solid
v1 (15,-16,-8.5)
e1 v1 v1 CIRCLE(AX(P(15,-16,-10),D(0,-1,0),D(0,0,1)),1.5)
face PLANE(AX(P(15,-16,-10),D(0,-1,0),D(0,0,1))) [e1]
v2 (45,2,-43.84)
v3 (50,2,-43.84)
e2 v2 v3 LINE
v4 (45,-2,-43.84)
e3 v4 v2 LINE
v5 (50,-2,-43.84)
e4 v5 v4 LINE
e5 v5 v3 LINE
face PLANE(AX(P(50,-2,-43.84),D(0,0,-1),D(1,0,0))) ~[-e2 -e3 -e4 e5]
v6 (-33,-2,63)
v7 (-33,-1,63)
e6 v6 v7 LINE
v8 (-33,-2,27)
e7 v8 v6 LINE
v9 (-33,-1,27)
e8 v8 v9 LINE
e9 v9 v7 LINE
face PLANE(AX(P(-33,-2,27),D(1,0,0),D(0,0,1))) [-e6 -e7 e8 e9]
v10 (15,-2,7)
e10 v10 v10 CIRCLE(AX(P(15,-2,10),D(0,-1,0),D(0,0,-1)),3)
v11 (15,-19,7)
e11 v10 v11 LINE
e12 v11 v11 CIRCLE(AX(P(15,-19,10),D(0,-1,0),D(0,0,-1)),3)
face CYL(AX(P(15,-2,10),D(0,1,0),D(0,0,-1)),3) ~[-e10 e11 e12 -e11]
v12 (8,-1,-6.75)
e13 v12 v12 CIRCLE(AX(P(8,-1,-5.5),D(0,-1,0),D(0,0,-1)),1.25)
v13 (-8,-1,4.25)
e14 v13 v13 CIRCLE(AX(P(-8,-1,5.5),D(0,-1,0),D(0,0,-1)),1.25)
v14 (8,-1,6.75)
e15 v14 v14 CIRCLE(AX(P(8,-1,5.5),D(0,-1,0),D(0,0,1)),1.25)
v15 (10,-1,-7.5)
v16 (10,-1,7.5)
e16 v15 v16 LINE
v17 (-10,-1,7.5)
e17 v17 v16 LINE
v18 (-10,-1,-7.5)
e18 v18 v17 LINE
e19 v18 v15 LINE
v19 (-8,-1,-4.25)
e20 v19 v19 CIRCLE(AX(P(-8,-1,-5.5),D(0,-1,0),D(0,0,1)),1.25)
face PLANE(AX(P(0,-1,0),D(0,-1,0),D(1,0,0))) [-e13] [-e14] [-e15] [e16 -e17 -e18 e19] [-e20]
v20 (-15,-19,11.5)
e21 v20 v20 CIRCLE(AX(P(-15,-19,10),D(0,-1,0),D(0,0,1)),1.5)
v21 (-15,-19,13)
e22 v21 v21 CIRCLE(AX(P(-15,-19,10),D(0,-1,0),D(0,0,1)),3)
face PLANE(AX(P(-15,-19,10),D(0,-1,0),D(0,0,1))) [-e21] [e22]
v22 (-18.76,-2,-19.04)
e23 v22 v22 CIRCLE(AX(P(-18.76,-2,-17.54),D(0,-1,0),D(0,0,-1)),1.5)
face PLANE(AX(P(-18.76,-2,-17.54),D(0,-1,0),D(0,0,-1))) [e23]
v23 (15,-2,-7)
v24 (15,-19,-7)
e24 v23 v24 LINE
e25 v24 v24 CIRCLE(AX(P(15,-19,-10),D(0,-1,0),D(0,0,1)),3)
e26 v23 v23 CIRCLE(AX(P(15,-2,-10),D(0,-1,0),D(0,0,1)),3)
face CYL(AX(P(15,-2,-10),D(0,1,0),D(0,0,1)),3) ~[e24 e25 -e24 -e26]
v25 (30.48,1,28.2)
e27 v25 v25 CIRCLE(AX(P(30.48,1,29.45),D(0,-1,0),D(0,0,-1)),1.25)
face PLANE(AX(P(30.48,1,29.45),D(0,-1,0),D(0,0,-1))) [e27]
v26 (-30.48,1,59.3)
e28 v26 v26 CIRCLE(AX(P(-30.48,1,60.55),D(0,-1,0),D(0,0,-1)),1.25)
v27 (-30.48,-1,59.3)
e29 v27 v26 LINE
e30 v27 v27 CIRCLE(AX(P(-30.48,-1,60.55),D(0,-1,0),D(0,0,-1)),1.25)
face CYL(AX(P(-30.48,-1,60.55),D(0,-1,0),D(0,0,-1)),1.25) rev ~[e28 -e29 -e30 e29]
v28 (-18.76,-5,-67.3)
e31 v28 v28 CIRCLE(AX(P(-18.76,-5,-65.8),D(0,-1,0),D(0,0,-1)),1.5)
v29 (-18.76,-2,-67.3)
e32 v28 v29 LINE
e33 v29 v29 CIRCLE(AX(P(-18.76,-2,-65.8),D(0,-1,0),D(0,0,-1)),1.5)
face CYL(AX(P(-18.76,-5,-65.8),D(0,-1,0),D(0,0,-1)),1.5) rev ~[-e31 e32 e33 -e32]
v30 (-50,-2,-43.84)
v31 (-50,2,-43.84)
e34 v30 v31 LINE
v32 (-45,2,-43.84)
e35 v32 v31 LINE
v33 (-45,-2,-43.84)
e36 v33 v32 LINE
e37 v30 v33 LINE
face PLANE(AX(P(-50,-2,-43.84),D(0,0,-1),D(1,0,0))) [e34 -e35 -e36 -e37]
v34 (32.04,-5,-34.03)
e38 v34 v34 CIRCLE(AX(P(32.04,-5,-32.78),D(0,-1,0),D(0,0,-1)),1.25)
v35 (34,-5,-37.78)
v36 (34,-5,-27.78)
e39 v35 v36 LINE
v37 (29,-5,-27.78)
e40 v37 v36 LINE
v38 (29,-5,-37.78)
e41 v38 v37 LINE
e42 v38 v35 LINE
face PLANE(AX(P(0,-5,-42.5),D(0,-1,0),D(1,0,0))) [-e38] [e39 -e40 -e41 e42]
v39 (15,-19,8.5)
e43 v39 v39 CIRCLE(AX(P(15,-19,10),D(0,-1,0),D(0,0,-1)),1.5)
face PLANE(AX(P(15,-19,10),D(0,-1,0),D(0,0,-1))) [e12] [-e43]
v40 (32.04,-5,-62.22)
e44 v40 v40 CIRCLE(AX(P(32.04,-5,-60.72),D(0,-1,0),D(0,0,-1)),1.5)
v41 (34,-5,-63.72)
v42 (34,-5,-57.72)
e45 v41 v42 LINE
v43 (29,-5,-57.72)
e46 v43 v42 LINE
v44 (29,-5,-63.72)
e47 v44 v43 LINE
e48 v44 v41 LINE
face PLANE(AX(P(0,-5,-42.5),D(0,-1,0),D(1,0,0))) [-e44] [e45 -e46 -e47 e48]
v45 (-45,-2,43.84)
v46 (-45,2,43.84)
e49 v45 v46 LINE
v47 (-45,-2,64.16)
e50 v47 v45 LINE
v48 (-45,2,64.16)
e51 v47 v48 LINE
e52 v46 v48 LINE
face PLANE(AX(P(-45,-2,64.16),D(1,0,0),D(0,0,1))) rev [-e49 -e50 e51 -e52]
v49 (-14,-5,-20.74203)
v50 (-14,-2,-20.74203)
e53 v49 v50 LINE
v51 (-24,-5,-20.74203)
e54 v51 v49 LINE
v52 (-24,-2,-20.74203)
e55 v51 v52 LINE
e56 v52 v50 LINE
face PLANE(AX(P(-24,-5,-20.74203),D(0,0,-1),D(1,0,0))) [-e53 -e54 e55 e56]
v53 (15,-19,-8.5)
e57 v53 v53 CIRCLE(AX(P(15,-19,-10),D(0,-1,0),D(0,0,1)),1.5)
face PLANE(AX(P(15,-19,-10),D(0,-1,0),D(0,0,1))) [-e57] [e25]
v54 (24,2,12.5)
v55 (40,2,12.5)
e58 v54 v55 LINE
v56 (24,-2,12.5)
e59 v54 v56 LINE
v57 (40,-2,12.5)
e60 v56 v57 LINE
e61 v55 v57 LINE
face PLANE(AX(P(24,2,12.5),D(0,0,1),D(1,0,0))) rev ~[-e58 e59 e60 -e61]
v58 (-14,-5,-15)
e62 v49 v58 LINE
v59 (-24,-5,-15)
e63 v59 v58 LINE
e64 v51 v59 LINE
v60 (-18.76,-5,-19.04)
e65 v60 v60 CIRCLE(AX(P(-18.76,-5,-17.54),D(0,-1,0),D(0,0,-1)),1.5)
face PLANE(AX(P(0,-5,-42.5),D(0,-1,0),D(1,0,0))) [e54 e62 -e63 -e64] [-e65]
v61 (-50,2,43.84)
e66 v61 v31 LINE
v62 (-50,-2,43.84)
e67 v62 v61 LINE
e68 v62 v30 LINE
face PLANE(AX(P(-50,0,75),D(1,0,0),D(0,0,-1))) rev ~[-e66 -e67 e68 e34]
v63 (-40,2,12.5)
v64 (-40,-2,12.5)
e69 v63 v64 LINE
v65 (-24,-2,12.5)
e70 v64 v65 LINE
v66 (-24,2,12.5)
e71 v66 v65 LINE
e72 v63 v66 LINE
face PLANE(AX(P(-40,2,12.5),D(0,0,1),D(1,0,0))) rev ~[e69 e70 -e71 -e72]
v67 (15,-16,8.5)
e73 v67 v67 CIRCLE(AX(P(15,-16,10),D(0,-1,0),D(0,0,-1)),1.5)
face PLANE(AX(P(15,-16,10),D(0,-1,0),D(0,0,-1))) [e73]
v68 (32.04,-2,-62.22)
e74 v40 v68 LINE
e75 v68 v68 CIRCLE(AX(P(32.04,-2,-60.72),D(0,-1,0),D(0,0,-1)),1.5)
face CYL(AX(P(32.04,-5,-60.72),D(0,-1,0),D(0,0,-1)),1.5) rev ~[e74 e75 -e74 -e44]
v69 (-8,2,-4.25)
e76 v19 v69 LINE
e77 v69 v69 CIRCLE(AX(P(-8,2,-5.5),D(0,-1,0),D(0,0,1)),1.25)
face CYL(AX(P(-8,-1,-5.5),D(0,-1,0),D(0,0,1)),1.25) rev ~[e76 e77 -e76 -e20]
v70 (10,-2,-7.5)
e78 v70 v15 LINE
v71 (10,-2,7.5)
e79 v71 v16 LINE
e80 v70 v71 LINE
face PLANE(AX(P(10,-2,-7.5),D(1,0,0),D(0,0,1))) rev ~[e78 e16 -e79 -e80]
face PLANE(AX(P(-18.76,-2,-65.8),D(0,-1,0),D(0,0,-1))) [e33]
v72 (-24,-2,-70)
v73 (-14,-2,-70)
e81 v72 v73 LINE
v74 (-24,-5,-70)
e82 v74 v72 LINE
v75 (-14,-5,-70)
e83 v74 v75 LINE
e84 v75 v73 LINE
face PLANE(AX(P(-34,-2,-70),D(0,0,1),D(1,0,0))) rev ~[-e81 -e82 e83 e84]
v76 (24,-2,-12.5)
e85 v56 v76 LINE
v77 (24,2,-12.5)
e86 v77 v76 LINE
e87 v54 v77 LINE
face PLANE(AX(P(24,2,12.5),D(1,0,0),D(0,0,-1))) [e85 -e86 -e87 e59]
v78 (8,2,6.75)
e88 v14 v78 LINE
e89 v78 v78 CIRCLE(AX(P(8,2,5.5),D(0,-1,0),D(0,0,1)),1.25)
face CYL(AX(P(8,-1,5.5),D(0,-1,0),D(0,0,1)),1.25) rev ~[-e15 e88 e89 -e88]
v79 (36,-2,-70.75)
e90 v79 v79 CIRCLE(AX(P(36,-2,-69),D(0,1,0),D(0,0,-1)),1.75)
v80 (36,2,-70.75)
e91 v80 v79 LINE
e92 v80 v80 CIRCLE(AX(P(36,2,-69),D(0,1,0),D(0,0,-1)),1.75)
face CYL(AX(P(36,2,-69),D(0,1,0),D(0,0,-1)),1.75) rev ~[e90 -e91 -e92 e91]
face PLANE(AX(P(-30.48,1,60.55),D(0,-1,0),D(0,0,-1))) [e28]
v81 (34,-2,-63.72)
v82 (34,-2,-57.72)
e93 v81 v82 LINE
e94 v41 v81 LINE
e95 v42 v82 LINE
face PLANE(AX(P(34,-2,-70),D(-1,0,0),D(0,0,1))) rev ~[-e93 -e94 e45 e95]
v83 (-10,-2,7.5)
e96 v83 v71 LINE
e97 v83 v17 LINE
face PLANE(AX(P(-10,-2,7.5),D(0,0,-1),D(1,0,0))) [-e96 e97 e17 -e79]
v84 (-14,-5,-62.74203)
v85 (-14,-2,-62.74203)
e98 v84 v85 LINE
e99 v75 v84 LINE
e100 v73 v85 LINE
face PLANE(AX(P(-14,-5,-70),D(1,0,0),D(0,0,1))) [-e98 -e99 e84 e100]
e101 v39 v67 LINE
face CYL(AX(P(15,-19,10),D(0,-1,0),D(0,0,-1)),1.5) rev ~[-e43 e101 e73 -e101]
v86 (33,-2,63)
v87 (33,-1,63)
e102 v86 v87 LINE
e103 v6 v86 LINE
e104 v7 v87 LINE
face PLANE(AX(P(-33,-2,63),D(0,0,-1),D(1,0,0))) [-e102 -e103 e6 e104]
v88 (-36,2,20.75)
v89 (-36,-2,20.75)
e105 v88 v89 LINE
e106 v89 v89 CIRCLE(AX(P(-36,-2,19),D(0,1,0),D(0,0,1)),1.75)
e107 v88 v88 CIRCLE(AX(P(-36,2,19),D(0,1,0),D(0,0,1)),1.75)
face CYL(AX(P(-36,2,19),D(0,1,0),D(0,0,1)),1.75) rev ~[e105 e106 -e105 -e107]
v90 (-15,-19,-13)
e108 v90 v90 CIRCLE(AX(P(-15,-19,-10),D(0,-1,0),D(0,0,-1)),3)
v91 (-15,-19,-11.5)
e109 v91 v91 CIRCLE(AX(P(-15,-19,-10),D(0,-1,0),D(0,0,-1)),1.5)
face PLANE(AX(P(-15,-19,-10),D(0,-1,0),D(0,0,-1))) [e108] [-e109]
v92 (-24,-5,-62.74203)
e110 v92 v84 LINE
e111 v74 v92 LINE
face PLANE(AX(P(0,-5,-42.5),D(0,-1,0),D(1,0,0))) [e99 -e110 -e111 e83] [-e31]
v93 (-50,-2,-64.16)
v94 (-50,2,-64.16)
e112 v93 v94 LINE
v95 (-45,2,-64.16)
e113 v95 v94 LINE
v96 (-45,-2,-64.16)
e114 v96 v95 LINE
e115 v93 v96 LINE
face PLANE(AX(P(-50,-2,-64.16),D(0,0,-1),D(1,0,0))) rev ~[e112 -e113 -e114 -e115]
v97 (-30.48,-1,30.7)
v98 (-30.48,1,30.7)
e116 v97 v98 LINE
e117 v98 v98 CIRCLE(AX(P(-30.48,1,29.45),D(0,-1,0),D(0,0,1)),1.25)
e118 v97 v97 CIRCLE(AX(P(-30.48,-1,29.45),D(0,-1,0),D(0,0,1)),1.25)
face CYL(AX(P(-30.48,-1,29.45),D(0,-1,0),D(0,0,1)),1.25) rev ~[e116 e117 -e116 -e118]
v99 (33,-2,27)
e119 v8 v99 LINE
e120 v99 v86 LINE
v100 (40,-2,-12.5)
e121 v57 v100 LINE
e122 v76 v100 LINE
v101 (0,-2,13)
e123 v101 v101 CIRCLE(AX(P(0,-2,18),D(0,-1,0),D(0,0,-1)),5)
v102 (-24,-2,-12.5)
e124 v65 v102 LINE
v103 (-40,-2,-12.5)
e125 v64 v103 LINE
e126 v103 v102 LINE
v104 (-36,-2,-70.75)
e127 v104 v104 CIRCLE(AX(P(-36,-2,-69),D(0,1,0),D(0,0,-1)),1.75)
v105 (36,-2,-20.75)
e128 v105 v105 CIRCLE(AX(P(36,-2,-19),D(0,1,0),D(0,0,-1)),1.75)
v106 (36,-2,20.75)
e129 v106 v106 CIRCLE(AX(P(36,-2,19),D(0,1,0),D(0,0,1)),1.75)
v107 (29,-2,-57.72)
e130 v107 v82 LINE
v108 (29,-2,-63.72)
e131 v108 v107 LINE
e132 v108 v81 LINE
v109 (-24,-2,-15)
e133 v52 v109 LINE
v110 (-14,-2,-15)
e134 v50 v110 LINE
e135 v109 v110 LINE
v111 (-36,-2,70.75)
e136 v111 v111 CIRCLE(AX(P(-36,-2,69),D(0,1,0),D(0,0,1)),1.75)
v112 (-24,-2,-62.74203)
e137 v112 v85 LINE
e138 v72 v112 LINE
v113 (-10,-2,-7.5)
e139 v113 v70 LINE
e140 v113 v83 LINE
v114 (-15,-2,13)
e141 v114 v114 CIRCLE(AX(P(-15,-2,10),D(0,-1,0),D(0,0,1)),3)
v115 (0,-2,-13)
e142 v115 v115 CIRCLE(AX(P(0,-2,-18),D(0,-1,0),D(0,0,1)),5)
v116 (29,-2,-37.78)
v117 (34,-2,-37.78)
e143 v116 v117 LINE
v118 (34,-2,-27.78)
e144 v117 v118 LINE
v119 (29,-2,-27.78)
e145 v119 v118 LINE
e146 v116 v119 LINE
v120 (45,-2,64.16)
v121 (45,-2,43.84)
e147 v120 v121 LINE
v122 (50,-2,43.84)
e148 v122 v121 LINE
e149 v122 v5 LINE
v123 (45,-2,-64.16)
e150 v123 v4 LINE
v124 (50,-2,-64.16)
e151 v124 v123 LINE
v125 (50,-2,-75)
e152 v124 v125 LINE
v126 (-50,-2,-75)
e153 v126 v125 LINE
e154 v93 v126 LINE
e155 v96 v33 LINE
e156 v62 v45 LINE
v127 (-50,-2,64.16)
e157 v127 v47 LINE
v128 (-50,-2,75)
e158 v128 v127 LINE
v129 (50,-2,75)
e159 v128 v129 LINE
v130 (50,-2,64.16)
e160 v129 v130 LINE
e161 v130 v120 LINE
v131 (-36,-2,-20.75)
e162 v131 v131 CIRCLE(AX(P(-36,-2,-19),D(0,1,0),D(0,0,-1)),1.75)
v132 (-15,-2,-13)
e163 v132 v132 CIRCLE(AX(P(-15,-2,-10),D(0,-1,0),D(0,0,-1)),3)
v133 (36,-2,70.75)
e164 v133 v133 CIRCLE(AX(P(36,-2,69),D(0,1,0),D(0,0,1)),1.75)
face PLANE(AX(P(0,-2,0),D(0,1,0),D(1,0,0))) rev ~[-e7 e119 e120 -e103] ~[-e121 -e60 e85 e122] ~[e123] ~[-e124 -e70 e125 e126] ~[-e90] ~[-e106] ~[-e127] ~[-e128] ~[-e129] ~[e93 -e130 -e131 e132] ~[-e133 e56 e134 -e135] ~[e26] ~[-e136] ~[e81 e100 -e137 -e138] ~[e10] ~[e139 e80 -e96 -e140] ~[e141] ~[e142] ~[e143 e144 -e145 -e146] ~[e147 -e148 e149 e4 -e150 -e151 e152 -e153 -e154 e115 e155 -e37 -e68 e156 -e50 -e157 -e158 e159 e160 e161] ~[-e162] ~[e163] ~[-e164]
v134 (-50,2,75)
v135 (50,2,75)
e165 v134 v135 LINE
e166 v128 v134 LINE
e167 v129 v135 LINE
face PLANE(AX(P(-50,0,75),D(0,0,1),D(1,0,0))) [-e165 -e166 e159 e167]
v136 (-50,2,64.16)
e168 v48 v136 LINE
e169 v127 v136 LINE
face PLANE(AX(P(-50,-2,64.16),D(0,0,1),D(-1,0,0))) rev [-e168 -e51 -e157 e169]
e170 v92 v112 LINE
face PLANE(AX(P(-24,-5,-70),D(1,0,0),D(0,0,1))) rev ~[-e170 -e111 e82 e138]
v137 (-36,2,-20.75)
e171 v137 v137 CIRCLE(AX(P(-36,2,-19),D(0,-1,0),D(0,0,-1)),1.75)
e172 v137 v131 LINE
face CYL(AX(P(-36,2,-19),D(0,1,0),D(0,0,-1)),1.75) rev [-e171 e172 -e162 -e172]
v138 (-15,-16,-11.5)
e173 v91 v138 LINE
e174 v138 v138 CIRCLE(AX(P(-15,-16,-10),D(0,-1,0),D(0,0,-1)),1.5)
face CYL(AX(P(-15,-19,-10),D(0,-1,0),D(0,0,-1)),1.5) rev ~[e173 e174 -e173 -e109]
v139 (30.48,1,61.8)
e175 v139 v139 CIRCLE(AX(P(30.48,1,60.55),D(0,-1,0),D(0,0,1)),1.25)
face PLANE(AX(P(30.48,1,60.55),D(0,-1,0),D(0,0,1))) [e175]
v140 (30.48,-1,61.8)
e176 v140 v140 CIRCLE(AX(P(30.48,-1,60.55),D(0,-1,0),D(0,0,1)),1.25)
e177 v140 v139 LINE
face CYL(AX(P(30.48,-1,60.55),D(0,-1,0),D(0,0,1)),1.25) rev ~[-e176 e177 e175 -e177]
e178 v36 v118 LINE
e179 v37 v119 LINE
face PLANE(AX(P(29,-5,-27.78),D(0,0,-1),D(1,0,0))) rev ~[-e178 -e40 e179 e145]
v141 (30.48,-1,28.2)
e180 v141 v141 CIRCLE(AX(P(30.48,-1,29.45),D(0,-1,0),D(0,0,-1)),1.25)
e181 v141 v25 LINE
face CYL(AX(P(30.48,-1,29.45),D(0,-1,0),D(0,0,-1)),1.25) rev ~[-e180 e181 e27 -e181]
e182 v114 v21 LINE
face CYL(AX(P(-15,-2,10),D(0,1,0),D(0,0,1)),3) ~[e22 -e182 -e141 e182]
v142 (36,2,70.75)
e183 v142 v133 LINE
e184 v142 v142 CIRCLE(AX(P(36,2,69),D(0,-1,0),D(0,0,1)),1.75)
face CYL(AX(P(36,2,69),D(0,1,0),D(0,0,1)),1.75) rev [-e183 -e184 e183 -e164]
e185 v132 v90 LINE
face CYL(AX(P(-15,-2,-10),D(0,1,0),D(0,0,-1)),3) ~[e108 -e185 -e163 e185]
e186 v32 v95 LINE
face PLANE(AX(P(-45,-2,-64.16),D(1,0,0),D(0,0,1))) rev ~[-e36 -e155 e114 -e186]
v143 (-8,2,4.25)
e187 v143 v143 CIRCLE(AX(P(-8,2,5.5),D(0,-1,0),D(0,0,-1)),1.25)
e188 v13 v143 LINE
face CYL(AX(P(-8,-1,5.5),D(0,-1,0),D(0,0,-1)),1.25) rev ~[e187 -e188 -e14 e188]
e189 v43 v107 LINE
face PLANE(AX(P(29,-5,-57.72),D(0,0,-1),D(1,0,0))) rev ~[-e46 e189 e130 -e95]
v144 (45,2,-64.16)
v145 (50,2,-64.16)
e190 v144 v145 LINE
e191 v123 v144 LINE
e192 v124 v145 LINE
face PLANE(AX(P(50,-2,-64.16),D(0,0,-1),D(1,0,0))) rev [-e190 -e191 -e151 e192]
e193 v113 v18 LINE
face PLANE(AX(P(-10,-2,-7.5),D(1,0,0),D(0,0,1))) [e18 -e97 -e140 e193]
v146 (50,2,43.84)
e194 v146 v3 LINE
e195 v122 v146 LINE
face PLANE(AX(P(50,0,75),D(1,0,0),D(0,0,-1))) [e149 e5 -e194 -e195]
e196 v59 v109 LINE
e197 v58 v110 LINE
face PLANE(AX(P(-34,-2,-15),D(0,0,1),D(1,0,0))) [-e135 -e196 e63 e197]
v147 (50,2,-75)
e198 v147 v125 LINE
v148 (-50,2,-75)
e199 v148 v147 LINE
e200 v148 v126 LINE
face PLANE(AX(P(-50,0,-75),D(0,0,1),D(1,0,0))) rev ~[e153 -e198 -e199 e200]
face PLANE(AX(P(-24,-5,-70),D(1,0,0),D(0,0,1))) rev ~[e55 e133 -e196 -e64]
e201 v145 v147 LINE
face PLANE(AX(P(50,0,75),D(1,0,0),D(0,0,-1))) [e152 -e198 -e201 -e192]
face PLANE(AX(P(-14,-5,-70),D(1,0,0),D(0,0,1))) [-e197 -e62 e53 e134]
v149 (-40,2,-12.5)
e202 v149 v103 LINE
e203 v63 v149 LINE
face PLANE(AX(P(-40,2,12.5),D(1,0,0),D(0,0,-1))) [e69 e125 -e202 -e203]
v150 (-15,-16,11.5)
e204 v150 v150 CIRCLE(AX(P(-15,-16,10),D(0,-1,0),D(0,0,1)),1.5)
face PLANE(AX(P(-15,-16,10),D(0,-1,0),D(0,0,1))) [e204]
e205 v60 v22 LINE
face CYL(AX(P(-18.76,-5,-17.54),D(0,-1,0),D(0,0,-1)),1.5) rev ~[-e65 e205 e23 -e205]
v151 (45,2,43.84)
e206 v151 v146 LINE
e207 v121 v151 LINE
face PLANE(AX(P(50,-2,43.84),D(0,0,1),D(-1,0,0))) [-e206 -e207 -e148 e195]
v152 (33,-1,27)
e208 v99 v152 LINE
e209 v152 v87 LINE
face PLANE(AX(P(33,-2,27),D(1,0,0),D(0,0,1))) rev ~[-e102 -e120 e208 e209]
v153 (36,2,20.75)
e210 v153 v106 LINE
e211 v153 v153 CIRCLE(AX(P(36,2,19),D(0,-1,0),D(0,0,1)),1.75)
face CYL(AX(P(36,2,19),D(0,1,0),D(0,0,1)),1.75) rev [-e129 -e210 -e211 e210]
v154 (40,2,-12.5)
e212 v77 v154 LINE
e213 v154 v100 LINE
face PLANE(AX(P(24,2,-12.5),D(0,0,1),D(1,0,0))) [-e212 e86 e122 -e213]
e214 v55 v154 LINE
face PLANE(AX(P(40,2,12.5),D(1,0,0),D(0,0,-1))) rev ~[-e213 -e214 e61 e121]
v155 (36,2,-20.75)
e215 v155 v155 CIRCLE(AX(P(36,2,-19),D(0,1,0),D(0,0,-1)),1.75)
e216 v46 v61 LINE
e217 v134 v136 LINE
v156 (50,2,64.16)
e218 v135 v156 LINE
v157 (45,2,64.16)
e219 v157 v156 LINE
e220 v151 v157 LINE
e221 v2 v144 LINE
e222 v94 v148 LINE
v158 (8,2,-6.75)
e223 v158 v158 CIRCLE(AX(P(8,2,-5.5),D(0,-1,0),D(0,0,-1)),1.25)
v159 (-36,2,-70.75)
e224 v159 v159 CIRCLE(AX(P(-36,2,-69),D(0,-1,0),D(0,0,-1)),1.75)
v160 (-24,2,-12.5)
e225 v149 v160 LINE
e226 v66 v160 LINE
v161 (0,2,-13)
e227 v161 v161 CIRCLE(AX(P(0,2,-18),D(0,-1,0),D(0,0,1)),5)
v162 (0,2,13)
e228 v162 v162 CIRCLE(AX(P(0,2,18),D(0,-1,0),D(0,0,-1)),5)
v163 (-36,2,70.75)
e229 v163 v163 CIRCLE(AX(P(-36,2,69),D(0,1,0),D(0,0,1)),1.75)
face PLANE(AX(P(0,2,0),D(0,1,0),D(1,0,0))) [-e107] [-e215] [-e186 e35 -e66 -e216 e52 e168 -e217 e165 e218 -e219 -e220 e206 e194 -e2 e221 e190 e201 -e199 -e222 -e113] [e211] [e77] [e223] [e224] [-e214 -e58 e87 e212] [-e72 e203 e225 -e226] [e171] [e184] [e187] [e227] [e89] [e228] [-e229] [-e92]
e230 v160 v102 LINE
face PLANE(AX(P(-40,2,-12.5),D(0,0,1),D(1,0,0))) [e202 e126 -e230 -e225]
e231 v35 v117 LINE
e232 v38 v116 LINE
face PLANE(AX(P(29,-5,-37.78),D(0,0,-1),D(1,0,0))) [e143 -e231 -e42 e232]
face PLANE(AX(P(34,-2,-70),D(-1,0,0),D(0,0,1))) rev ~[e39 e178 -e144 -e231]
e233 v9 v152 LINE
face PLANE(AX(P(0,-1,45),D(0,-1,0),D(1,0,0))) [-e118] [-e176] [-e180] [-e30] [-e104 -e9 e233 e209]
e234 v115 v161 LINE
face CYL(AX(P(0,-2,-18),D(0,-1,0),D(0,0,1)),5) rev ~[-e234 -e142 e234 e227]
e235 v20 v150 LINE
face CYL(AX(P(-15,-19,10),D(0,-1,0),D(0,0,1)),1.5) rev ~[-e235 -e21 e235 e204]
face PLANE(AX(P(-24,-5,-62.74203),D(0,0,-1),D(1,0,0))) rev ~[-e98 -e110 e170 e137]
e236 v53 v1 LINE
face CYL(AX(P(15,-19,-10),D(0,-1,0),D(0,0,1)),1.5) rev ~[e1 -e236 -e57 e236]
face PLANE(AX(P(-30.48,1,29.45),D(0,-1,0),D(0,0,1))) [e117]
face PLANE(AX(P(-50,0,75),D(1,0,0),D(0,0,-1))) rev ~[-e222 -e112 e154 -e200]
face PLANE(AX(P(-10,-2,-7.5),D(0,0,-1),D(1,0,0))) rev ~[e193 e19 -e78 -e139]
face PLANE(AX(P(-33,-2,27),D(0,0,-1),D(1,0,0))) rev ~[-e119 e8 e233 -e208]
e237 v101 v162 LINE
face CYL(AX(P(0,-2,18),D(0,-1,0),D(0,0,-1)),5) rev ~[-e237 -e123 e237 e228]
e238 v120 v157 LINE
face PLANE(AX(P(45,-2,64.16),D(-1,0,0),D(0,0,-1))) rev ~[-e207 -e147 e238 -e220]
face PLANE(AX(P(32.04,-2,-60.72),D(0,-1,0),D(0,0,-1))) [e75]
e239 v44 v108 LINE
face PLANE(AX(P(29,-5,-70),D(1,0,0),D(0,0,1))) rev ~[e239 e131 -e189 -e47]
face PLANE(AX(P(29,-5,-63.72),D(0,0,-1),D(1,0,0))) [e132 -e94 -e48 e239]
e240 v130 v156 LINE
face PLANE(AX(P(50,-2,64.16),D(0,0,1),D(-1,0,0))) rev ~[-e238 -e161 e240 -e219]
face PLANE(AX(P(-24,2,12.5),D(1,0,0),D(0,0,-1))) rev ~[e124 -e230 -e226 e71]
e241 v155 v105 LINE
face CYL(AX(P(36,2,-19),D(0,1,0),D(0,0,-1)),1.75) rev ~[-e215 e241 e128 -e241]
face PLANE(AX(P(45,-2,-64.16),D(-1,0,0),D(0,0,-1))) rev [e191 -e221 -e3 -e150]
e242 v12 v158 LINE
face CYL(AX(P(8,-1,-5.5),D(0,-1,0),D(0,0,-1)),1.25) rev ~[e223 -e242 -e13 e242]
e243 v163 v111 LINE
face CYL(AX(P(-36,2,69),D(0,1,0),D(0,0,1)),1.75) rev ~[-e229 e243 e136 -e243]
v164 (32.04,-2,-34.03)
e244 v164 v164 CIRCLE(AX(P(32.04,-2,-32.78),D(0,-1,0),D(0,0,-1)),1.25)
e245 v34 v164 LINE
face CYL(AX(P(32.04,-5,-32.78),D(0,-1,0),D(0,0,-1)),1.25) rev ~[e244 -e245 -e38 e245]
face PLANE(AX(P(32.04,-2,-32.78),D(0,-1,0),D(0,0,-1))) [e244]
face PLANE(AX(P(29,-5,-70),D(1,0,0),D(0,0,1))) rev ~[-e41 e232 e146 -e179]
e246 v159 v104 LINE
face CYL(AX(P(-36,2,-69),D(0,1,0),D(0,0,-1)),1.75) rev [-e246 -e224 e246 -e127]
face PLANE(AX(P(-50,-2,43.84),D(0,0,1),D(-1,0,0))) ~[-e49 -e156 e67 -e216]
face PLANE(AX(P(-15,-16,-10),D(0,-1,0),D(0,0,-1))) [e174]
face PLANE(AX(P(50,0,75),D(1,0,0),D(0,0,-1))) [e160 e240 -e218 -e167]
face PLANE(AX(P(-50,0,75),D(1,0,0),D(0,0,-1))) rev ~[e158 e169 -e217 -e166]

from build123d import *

# Parameters (mm, degrees)
SKETCH_1_W               = 100
SKETCH_1_H               = 150
EXTRUDE_2_DEPTH          = 2
SKETCH_3_R               = 1.75
CUT_EXTRUDE_1_DEPTH      = 91.227490268
MIRROR_2_COPY_1_SKETCH_R = 1.75
MIRROR_2_COPY_1_DEPTH    = 91.227490268
SKETCH_5_W               = 20
SKETCH_5_H               = 15
CUT_EXTRUDE_3_DEPTH      = 1
SKETCH_6_R               = 1.25
CUT_EXTRUDE_4_DEPTH      = 3
SKETCH_8_W               = 16
SKETCH_8_H               = 25
CUT_EXTRUDE_5_DEPTH      = 91.227490268
SKETCH_9_W               = 66
SKETCH_9_H               = 36
CUT_EXTRUDE_7_DEPTH      = 1
SKETCH_10_R              = 1.25
CUT_EXTRUDE_8_DEPTH      = 2
SKETCH_11_W              = 68
SKETCH_11_H              = 55
EXTRUDE_3_DEPTH          = 3
SKETCH_12_R              = 1.5
SKETCH_12_R_2            = 1.25
CUT_EXTRUDE_9_DEPTH      = 3
SKETCH_13_W              = 10
SKETCH_13_H              = 55
SKETCH_13_W_2            = 43
CUT_EXTRUDE_10_DEPTH     = 3
SKETCH_14_W              = 10
SKETCH_14_H              = 42
SKETCH_14_W_2            = 5
SKETCH_14_H_2            = 12.78
SKETCH_14_H_3            = 19.94
SKETCH_14_H_4            = 6.28
CUT_EXTRUDE_11_DEPTH     = 3
SKETCH_15_W              = 5
SKETCH_15_H              = 20.32
CUT_EXTRUDE_12_DEPTH     = 91.227490268
MIRROR_4_COPY_1_SKETCH_W = 5
MIRROR_4_COPY_1_SKETCH_H = 20.32
MIRROR_4_COPY_1_DEPTH    = 91.227490268
SKETCH_17_R              = 3
EXTRUDE_4_DEPTH          = 17
SKETCH_19_R              = 1.5
CUT_EXTRUDE_14_DEPTH     = 3
SKETCH_20_R              = 5
CUT_EXTRUDE_15_DEPTH     = 92.727858364


with BuildPart() as part:
    # 草图1 → 凸台-拉伸2 (new, symmetric)
    with BuildSketch(Plane(origin=(0, 0, 0), x_dir=(1, 0, 0), z_dir=(0, 1, 0))):
        Rectangle(SKETCH_1_W, SKETCH_1_H)
    extrude(amount=EXTRUDE_2_DEPTH, both=True)

    # 草图3 → 切除-拉伸1 (cut, through all)
    with BuildSketch(Plane(origin=(0, 2, 0), x_dir=(1, 0, 0), z_dir=(0, 1, 0))):
        with Locations(Location((-36, -19, 0), (0, 0, 270))):
            Circle(SKETCH_3_R)
        with Locations(Location((-36, -69, 0), (0, 0, 270))):
            Circle(SKETCH_3_R)
    cut_extrude_1 = extrude(amount=-CUT_EXTRUDE_1_DEPTH, mode=Mode.SUBTRACT)

    # 镜向1: 切除-拉伸1 across plane
    add(cut_extrude_1.mirror(Plane(origin=(0, 0, 0), x_dir=(0, 0, 1), z_dir=(1, 0, 0))), mode=Mode.SUBTRACT)

    # 镜向2: 切除-拉伸1 across plane
    add(cut_extrude_1.mirror(Plane.XY), mode=Mode.SUBTRACT)

    # 镜向2 copy 1 sketch → 镜向2 copy 1 (cut, through all)
    with BuildSketch(Plane(origin=(0, 2, 0), x_dir=(-1, 0, 0), z_dir=(0, 1, 0))):
        with Locations(Location((-36, -19, 0), (0, 0, 270))):
            Circle(MIRROR_2_COPY_1_SKETCH_R)
        with Locations(Location((-36, -69, 0), (0, 0, 270))):
            Circle(MIRROR_2_COPY_1_SKETCH_R)
    extrude(amount=-MIRROR_2_COPY_1_DEPTH, mode=Mode.SUBTRACT)

    # 草图5 → 切除-拉伸3 (cut)
    with BuildSketch(Plane.XZ.offset(2)):
        Rectangle(SKETCH_5_W, SKETCH_5_H)
    extrude(amount=-CUT_EXTRUDE_3_DEPTH, mode=Mode.SUBTRACT)

    # 草图6 → 切除-拉伸4 (cut)
    with BuildSketch(Plane.XZ.offset(1)):
        with Locations(Location((-8, 5.5, 0), (0, 0, 270))):
            Circle(SKETCH_6_R)
        with Locations(Location((8, 5.5, 0), (0, 0, 90))):
            Circle(SKETCH_6_R)
        with Locations(Location((8, -5.5, 0), (0, 0, 270))):
            Circle(SKETCH_6_R)
        with Locations(Location((-8, -5.5, 0), (0, 0, 90))):
            Circle(SKETCH_6_R)
    extrude(amount=-CUT_EXTRUDE_4_DEPTH, mode=Mode.SUBTRACT)

    # 草图8 → 切除-拉伸5 (cut, through all)
    with BuildSketch(Plane(origin=(0, 2, 0), x_dir=(1, 0, 0), z_dir=(0, 1, 0))):
        with Locations((-32, 0)):
            Rectangle(SKETCH_8_W, SKETCH_8_H)
        with Locations((32, 0)):
            Rectangle(SKETCH_8_W, SKETCH_8_H)
    extrude(amount=-CUT_EXTRUDE_5_DEPTH, mode=Mode.SUBTRACT)

    # 草图9 → 切除-拉伸7 (cut)
    with BuildSketch(Plane.XZ.offset(2)):
        with Locations((0, 45)):
            Rectangle(SKETCH_9_W, SKETCH_9_H)
    extrude(amount=-CUT_EXTRUDE_7_DEPTH, mode=Mode.SUBTRACT)

    # 草图10 → 切除-拉伸8 (cut)
    with BuildSketch(Plane.XZ.offset(1)):
        with Locations(Location((-30.48, 60.55, 0), (0, 0, 270))):
            Circle(SKETCH_10_R)
        with Locations(Location((30.48, 60.55, 0), (0, 0, 90))):
            Circle(SKETCH_10_R)
        with Locations(Location((30.48, 29.45, 0), (0, 0, 270))):
            Circle(SKETCH_10_R)
        with Locations(Location((-30.48, 29.45, 0), (0, 0, 90))):
            Circle(SKETCH_10_R)
    extrude(amount=-CUT_EXTRUDE_8_DEPTH, mode=Mode.SUBTRACT)

    # 草图11 → 凸台-拉伸3 (add)
    with BuildSketch(Plane.XZ.offset(2)):
        with Locations((0, -42.5)):
            Rectangle(SKETCH_11_W, SKETCH_11_H)
    extrude(amount=EXTRUDE_3_DEPTH)

    # 草图12 → 切除-拉伸9 (cut)
    with BuildSketch(Plane.XZ.offset(5)):
        with Locations(Location((-18.76, -17.54, 0), (0, 0, 270))):
            Circle(SKETCH_12_R)
        with Locations(Location((-18.76, -65.8, 0), (0, 0, 270))):
            Circle(SKETCH_12_R)
        with Locations(Location((32.04, -32.78, 0), (0, 0, 270))):
            Circle(SKETCH_12_R_2)
        with Locations(Location((32.04, -60.72, 0), (0, 0, 270))):
            Circle(SKETCH_12_R)
    extrude(amount=-CUT_EXTRUDE_9_DEPTH, mode=Mode.SUBTRACT)

    # 草图13 → 切除-拉伸10 (cut)
    with BuildSketch(Plane.XZ.offset(5)):
        with Locations((-29, -42.5)):
            Rectangle(SKETCH_13_W, SKETCH_13_H)
        with Locations((7.5, -42.5)):
            Rectangle(SKETCH_13_W_2, SKETCH_13_H)
    extrude(amount=-CUT_EXTRUDE_10_DEPTH, mode=Mode.SUBTRACT)

    # 草图14 → 切除-拉伸11 (cut)
    with BuildSketch(Plane.XZ.offset(5)):
        with Locations((-19, -41.742030173)):
            Rectangle(SKETCH_14_W, SKETCH_14_H)
        with Locations((31.5, -21.39)):
            Rectangle(SKETCH_14_W_2, SKETCH_14_H_2)
        with Locations((31.5, -47.75)):
            Rectangle(SKETCH_14_W_2, SKETCH_14_H_3)
        with Locations((31.5, -66.86)):
            Rectangle(SKETCH_14_W_2, SKETCH_14_H_4)
    extrude(amount=-CUT_EXTRUDE_11_DEPTH, mode=Mode.SUBTRACT)

    # 草图15 → 切除-拉伸12 (cut, through all)
    with BuildSketch(Plane.XZ.offset(2)):
        with Locations((-47.5, -54)):
            Rectangle(SKETCH_15_W, SKETCH_15_H)
    cut_extrude_12 = extrude(amount=-CUT_EXTRUDE_12_DEPTH, mode=Mode.SUBTRACT)

    # 镜向3: 切除-拉伸12 across plane
    add(cut_extrude_12.mirror(Plane.XY), mode=Mode.SUBTRACT)

    # 镜向4: 切除-拉伸12 across plane
    add(cut_extrude_12.mirror(Plane(origin=(0, 0, 0), x_dir=(0, 0, 1), z_dir=(1, 0, 0))), mode=Mode.SUBTRACT)

    # 镜向4 copy 1 sketch → 镜向4 copy 1 (cut, through all)
    with BuildSketch(Plane(origin=(0, -2, 0), x_dir=(-1, 0, 0), z_dir=(0, -1, 0))):
        with Locations((-47.5, -54)):
            Rectangle(MIRROR_4_COPY_1_SKETCH_W, MIRROR_4_COPY_1_SKETCH_H)
    extrude(amount=-MIRROR_4_COPY_1_DEPTH, mode=Mode.SUBTRACT)

    # 草图17 → 凸台-拉伸4 (add)
    with BuildSketch(Plane.XZ.offset(2)):
        with Locations(Location((15, 10, 0), (0, 0, 270))):
            Circle(SKETCH_17_R)
        with Locations(Location((-15, 10, 0), (0, 0, 90))):
            Circle(SKETCH_17_R)
        with Locations(Location((15, -10, 0), (0, 0, 90))):
            Circle(SKETCH_17_R)
        with Locations(Location((-15, -10, 0), (0, 0, 270))):
            Circle(SKETCH_17_R)
    extrude(amount=EXTRUDE_4_DEPTH)

    # 草图19 → 切除-拉伸14 (cut)
    with BuildSketch(Plane.XZ.offset(19)):
        with Locations(Location((15, 10, 0), (0, 0, 270))):
            Circle(SKETCH_19_R)
        with Locations(Location((-15, 10, 0), (0, 0, 90))):
            Circle(SKETCH_19_R)
        with Locations(Location((15, -10, 0), (0, 0, 90))):
            Circle(SKETCH_19_R)
        with Locations(Location((-15, -10, 0), (0, 0, 270))):
            Circle(SKETCH_19_R)
    extrude(amount=-CUT_EXTRUDE_14_DEPTH, mode=Mode.SUBTRACT)

    # 草图20 → 切除-拉伸15 (cut, through all)
    with BuildSketch(Plane.XZ.offset(2)):
        with Locations(Location((0, 18, 0), (0, 0, 270))):
            Circle(SKETCH_20_R)
        with Locations(Location((0, -18, 0), (0, 0, 90))):
            Circle(SKETCH_20_R)
    extrude(amount=-CUT_EXTRUDE_15_DEPTH, mode=Mode.SUBTRACT)


solid = part.part
